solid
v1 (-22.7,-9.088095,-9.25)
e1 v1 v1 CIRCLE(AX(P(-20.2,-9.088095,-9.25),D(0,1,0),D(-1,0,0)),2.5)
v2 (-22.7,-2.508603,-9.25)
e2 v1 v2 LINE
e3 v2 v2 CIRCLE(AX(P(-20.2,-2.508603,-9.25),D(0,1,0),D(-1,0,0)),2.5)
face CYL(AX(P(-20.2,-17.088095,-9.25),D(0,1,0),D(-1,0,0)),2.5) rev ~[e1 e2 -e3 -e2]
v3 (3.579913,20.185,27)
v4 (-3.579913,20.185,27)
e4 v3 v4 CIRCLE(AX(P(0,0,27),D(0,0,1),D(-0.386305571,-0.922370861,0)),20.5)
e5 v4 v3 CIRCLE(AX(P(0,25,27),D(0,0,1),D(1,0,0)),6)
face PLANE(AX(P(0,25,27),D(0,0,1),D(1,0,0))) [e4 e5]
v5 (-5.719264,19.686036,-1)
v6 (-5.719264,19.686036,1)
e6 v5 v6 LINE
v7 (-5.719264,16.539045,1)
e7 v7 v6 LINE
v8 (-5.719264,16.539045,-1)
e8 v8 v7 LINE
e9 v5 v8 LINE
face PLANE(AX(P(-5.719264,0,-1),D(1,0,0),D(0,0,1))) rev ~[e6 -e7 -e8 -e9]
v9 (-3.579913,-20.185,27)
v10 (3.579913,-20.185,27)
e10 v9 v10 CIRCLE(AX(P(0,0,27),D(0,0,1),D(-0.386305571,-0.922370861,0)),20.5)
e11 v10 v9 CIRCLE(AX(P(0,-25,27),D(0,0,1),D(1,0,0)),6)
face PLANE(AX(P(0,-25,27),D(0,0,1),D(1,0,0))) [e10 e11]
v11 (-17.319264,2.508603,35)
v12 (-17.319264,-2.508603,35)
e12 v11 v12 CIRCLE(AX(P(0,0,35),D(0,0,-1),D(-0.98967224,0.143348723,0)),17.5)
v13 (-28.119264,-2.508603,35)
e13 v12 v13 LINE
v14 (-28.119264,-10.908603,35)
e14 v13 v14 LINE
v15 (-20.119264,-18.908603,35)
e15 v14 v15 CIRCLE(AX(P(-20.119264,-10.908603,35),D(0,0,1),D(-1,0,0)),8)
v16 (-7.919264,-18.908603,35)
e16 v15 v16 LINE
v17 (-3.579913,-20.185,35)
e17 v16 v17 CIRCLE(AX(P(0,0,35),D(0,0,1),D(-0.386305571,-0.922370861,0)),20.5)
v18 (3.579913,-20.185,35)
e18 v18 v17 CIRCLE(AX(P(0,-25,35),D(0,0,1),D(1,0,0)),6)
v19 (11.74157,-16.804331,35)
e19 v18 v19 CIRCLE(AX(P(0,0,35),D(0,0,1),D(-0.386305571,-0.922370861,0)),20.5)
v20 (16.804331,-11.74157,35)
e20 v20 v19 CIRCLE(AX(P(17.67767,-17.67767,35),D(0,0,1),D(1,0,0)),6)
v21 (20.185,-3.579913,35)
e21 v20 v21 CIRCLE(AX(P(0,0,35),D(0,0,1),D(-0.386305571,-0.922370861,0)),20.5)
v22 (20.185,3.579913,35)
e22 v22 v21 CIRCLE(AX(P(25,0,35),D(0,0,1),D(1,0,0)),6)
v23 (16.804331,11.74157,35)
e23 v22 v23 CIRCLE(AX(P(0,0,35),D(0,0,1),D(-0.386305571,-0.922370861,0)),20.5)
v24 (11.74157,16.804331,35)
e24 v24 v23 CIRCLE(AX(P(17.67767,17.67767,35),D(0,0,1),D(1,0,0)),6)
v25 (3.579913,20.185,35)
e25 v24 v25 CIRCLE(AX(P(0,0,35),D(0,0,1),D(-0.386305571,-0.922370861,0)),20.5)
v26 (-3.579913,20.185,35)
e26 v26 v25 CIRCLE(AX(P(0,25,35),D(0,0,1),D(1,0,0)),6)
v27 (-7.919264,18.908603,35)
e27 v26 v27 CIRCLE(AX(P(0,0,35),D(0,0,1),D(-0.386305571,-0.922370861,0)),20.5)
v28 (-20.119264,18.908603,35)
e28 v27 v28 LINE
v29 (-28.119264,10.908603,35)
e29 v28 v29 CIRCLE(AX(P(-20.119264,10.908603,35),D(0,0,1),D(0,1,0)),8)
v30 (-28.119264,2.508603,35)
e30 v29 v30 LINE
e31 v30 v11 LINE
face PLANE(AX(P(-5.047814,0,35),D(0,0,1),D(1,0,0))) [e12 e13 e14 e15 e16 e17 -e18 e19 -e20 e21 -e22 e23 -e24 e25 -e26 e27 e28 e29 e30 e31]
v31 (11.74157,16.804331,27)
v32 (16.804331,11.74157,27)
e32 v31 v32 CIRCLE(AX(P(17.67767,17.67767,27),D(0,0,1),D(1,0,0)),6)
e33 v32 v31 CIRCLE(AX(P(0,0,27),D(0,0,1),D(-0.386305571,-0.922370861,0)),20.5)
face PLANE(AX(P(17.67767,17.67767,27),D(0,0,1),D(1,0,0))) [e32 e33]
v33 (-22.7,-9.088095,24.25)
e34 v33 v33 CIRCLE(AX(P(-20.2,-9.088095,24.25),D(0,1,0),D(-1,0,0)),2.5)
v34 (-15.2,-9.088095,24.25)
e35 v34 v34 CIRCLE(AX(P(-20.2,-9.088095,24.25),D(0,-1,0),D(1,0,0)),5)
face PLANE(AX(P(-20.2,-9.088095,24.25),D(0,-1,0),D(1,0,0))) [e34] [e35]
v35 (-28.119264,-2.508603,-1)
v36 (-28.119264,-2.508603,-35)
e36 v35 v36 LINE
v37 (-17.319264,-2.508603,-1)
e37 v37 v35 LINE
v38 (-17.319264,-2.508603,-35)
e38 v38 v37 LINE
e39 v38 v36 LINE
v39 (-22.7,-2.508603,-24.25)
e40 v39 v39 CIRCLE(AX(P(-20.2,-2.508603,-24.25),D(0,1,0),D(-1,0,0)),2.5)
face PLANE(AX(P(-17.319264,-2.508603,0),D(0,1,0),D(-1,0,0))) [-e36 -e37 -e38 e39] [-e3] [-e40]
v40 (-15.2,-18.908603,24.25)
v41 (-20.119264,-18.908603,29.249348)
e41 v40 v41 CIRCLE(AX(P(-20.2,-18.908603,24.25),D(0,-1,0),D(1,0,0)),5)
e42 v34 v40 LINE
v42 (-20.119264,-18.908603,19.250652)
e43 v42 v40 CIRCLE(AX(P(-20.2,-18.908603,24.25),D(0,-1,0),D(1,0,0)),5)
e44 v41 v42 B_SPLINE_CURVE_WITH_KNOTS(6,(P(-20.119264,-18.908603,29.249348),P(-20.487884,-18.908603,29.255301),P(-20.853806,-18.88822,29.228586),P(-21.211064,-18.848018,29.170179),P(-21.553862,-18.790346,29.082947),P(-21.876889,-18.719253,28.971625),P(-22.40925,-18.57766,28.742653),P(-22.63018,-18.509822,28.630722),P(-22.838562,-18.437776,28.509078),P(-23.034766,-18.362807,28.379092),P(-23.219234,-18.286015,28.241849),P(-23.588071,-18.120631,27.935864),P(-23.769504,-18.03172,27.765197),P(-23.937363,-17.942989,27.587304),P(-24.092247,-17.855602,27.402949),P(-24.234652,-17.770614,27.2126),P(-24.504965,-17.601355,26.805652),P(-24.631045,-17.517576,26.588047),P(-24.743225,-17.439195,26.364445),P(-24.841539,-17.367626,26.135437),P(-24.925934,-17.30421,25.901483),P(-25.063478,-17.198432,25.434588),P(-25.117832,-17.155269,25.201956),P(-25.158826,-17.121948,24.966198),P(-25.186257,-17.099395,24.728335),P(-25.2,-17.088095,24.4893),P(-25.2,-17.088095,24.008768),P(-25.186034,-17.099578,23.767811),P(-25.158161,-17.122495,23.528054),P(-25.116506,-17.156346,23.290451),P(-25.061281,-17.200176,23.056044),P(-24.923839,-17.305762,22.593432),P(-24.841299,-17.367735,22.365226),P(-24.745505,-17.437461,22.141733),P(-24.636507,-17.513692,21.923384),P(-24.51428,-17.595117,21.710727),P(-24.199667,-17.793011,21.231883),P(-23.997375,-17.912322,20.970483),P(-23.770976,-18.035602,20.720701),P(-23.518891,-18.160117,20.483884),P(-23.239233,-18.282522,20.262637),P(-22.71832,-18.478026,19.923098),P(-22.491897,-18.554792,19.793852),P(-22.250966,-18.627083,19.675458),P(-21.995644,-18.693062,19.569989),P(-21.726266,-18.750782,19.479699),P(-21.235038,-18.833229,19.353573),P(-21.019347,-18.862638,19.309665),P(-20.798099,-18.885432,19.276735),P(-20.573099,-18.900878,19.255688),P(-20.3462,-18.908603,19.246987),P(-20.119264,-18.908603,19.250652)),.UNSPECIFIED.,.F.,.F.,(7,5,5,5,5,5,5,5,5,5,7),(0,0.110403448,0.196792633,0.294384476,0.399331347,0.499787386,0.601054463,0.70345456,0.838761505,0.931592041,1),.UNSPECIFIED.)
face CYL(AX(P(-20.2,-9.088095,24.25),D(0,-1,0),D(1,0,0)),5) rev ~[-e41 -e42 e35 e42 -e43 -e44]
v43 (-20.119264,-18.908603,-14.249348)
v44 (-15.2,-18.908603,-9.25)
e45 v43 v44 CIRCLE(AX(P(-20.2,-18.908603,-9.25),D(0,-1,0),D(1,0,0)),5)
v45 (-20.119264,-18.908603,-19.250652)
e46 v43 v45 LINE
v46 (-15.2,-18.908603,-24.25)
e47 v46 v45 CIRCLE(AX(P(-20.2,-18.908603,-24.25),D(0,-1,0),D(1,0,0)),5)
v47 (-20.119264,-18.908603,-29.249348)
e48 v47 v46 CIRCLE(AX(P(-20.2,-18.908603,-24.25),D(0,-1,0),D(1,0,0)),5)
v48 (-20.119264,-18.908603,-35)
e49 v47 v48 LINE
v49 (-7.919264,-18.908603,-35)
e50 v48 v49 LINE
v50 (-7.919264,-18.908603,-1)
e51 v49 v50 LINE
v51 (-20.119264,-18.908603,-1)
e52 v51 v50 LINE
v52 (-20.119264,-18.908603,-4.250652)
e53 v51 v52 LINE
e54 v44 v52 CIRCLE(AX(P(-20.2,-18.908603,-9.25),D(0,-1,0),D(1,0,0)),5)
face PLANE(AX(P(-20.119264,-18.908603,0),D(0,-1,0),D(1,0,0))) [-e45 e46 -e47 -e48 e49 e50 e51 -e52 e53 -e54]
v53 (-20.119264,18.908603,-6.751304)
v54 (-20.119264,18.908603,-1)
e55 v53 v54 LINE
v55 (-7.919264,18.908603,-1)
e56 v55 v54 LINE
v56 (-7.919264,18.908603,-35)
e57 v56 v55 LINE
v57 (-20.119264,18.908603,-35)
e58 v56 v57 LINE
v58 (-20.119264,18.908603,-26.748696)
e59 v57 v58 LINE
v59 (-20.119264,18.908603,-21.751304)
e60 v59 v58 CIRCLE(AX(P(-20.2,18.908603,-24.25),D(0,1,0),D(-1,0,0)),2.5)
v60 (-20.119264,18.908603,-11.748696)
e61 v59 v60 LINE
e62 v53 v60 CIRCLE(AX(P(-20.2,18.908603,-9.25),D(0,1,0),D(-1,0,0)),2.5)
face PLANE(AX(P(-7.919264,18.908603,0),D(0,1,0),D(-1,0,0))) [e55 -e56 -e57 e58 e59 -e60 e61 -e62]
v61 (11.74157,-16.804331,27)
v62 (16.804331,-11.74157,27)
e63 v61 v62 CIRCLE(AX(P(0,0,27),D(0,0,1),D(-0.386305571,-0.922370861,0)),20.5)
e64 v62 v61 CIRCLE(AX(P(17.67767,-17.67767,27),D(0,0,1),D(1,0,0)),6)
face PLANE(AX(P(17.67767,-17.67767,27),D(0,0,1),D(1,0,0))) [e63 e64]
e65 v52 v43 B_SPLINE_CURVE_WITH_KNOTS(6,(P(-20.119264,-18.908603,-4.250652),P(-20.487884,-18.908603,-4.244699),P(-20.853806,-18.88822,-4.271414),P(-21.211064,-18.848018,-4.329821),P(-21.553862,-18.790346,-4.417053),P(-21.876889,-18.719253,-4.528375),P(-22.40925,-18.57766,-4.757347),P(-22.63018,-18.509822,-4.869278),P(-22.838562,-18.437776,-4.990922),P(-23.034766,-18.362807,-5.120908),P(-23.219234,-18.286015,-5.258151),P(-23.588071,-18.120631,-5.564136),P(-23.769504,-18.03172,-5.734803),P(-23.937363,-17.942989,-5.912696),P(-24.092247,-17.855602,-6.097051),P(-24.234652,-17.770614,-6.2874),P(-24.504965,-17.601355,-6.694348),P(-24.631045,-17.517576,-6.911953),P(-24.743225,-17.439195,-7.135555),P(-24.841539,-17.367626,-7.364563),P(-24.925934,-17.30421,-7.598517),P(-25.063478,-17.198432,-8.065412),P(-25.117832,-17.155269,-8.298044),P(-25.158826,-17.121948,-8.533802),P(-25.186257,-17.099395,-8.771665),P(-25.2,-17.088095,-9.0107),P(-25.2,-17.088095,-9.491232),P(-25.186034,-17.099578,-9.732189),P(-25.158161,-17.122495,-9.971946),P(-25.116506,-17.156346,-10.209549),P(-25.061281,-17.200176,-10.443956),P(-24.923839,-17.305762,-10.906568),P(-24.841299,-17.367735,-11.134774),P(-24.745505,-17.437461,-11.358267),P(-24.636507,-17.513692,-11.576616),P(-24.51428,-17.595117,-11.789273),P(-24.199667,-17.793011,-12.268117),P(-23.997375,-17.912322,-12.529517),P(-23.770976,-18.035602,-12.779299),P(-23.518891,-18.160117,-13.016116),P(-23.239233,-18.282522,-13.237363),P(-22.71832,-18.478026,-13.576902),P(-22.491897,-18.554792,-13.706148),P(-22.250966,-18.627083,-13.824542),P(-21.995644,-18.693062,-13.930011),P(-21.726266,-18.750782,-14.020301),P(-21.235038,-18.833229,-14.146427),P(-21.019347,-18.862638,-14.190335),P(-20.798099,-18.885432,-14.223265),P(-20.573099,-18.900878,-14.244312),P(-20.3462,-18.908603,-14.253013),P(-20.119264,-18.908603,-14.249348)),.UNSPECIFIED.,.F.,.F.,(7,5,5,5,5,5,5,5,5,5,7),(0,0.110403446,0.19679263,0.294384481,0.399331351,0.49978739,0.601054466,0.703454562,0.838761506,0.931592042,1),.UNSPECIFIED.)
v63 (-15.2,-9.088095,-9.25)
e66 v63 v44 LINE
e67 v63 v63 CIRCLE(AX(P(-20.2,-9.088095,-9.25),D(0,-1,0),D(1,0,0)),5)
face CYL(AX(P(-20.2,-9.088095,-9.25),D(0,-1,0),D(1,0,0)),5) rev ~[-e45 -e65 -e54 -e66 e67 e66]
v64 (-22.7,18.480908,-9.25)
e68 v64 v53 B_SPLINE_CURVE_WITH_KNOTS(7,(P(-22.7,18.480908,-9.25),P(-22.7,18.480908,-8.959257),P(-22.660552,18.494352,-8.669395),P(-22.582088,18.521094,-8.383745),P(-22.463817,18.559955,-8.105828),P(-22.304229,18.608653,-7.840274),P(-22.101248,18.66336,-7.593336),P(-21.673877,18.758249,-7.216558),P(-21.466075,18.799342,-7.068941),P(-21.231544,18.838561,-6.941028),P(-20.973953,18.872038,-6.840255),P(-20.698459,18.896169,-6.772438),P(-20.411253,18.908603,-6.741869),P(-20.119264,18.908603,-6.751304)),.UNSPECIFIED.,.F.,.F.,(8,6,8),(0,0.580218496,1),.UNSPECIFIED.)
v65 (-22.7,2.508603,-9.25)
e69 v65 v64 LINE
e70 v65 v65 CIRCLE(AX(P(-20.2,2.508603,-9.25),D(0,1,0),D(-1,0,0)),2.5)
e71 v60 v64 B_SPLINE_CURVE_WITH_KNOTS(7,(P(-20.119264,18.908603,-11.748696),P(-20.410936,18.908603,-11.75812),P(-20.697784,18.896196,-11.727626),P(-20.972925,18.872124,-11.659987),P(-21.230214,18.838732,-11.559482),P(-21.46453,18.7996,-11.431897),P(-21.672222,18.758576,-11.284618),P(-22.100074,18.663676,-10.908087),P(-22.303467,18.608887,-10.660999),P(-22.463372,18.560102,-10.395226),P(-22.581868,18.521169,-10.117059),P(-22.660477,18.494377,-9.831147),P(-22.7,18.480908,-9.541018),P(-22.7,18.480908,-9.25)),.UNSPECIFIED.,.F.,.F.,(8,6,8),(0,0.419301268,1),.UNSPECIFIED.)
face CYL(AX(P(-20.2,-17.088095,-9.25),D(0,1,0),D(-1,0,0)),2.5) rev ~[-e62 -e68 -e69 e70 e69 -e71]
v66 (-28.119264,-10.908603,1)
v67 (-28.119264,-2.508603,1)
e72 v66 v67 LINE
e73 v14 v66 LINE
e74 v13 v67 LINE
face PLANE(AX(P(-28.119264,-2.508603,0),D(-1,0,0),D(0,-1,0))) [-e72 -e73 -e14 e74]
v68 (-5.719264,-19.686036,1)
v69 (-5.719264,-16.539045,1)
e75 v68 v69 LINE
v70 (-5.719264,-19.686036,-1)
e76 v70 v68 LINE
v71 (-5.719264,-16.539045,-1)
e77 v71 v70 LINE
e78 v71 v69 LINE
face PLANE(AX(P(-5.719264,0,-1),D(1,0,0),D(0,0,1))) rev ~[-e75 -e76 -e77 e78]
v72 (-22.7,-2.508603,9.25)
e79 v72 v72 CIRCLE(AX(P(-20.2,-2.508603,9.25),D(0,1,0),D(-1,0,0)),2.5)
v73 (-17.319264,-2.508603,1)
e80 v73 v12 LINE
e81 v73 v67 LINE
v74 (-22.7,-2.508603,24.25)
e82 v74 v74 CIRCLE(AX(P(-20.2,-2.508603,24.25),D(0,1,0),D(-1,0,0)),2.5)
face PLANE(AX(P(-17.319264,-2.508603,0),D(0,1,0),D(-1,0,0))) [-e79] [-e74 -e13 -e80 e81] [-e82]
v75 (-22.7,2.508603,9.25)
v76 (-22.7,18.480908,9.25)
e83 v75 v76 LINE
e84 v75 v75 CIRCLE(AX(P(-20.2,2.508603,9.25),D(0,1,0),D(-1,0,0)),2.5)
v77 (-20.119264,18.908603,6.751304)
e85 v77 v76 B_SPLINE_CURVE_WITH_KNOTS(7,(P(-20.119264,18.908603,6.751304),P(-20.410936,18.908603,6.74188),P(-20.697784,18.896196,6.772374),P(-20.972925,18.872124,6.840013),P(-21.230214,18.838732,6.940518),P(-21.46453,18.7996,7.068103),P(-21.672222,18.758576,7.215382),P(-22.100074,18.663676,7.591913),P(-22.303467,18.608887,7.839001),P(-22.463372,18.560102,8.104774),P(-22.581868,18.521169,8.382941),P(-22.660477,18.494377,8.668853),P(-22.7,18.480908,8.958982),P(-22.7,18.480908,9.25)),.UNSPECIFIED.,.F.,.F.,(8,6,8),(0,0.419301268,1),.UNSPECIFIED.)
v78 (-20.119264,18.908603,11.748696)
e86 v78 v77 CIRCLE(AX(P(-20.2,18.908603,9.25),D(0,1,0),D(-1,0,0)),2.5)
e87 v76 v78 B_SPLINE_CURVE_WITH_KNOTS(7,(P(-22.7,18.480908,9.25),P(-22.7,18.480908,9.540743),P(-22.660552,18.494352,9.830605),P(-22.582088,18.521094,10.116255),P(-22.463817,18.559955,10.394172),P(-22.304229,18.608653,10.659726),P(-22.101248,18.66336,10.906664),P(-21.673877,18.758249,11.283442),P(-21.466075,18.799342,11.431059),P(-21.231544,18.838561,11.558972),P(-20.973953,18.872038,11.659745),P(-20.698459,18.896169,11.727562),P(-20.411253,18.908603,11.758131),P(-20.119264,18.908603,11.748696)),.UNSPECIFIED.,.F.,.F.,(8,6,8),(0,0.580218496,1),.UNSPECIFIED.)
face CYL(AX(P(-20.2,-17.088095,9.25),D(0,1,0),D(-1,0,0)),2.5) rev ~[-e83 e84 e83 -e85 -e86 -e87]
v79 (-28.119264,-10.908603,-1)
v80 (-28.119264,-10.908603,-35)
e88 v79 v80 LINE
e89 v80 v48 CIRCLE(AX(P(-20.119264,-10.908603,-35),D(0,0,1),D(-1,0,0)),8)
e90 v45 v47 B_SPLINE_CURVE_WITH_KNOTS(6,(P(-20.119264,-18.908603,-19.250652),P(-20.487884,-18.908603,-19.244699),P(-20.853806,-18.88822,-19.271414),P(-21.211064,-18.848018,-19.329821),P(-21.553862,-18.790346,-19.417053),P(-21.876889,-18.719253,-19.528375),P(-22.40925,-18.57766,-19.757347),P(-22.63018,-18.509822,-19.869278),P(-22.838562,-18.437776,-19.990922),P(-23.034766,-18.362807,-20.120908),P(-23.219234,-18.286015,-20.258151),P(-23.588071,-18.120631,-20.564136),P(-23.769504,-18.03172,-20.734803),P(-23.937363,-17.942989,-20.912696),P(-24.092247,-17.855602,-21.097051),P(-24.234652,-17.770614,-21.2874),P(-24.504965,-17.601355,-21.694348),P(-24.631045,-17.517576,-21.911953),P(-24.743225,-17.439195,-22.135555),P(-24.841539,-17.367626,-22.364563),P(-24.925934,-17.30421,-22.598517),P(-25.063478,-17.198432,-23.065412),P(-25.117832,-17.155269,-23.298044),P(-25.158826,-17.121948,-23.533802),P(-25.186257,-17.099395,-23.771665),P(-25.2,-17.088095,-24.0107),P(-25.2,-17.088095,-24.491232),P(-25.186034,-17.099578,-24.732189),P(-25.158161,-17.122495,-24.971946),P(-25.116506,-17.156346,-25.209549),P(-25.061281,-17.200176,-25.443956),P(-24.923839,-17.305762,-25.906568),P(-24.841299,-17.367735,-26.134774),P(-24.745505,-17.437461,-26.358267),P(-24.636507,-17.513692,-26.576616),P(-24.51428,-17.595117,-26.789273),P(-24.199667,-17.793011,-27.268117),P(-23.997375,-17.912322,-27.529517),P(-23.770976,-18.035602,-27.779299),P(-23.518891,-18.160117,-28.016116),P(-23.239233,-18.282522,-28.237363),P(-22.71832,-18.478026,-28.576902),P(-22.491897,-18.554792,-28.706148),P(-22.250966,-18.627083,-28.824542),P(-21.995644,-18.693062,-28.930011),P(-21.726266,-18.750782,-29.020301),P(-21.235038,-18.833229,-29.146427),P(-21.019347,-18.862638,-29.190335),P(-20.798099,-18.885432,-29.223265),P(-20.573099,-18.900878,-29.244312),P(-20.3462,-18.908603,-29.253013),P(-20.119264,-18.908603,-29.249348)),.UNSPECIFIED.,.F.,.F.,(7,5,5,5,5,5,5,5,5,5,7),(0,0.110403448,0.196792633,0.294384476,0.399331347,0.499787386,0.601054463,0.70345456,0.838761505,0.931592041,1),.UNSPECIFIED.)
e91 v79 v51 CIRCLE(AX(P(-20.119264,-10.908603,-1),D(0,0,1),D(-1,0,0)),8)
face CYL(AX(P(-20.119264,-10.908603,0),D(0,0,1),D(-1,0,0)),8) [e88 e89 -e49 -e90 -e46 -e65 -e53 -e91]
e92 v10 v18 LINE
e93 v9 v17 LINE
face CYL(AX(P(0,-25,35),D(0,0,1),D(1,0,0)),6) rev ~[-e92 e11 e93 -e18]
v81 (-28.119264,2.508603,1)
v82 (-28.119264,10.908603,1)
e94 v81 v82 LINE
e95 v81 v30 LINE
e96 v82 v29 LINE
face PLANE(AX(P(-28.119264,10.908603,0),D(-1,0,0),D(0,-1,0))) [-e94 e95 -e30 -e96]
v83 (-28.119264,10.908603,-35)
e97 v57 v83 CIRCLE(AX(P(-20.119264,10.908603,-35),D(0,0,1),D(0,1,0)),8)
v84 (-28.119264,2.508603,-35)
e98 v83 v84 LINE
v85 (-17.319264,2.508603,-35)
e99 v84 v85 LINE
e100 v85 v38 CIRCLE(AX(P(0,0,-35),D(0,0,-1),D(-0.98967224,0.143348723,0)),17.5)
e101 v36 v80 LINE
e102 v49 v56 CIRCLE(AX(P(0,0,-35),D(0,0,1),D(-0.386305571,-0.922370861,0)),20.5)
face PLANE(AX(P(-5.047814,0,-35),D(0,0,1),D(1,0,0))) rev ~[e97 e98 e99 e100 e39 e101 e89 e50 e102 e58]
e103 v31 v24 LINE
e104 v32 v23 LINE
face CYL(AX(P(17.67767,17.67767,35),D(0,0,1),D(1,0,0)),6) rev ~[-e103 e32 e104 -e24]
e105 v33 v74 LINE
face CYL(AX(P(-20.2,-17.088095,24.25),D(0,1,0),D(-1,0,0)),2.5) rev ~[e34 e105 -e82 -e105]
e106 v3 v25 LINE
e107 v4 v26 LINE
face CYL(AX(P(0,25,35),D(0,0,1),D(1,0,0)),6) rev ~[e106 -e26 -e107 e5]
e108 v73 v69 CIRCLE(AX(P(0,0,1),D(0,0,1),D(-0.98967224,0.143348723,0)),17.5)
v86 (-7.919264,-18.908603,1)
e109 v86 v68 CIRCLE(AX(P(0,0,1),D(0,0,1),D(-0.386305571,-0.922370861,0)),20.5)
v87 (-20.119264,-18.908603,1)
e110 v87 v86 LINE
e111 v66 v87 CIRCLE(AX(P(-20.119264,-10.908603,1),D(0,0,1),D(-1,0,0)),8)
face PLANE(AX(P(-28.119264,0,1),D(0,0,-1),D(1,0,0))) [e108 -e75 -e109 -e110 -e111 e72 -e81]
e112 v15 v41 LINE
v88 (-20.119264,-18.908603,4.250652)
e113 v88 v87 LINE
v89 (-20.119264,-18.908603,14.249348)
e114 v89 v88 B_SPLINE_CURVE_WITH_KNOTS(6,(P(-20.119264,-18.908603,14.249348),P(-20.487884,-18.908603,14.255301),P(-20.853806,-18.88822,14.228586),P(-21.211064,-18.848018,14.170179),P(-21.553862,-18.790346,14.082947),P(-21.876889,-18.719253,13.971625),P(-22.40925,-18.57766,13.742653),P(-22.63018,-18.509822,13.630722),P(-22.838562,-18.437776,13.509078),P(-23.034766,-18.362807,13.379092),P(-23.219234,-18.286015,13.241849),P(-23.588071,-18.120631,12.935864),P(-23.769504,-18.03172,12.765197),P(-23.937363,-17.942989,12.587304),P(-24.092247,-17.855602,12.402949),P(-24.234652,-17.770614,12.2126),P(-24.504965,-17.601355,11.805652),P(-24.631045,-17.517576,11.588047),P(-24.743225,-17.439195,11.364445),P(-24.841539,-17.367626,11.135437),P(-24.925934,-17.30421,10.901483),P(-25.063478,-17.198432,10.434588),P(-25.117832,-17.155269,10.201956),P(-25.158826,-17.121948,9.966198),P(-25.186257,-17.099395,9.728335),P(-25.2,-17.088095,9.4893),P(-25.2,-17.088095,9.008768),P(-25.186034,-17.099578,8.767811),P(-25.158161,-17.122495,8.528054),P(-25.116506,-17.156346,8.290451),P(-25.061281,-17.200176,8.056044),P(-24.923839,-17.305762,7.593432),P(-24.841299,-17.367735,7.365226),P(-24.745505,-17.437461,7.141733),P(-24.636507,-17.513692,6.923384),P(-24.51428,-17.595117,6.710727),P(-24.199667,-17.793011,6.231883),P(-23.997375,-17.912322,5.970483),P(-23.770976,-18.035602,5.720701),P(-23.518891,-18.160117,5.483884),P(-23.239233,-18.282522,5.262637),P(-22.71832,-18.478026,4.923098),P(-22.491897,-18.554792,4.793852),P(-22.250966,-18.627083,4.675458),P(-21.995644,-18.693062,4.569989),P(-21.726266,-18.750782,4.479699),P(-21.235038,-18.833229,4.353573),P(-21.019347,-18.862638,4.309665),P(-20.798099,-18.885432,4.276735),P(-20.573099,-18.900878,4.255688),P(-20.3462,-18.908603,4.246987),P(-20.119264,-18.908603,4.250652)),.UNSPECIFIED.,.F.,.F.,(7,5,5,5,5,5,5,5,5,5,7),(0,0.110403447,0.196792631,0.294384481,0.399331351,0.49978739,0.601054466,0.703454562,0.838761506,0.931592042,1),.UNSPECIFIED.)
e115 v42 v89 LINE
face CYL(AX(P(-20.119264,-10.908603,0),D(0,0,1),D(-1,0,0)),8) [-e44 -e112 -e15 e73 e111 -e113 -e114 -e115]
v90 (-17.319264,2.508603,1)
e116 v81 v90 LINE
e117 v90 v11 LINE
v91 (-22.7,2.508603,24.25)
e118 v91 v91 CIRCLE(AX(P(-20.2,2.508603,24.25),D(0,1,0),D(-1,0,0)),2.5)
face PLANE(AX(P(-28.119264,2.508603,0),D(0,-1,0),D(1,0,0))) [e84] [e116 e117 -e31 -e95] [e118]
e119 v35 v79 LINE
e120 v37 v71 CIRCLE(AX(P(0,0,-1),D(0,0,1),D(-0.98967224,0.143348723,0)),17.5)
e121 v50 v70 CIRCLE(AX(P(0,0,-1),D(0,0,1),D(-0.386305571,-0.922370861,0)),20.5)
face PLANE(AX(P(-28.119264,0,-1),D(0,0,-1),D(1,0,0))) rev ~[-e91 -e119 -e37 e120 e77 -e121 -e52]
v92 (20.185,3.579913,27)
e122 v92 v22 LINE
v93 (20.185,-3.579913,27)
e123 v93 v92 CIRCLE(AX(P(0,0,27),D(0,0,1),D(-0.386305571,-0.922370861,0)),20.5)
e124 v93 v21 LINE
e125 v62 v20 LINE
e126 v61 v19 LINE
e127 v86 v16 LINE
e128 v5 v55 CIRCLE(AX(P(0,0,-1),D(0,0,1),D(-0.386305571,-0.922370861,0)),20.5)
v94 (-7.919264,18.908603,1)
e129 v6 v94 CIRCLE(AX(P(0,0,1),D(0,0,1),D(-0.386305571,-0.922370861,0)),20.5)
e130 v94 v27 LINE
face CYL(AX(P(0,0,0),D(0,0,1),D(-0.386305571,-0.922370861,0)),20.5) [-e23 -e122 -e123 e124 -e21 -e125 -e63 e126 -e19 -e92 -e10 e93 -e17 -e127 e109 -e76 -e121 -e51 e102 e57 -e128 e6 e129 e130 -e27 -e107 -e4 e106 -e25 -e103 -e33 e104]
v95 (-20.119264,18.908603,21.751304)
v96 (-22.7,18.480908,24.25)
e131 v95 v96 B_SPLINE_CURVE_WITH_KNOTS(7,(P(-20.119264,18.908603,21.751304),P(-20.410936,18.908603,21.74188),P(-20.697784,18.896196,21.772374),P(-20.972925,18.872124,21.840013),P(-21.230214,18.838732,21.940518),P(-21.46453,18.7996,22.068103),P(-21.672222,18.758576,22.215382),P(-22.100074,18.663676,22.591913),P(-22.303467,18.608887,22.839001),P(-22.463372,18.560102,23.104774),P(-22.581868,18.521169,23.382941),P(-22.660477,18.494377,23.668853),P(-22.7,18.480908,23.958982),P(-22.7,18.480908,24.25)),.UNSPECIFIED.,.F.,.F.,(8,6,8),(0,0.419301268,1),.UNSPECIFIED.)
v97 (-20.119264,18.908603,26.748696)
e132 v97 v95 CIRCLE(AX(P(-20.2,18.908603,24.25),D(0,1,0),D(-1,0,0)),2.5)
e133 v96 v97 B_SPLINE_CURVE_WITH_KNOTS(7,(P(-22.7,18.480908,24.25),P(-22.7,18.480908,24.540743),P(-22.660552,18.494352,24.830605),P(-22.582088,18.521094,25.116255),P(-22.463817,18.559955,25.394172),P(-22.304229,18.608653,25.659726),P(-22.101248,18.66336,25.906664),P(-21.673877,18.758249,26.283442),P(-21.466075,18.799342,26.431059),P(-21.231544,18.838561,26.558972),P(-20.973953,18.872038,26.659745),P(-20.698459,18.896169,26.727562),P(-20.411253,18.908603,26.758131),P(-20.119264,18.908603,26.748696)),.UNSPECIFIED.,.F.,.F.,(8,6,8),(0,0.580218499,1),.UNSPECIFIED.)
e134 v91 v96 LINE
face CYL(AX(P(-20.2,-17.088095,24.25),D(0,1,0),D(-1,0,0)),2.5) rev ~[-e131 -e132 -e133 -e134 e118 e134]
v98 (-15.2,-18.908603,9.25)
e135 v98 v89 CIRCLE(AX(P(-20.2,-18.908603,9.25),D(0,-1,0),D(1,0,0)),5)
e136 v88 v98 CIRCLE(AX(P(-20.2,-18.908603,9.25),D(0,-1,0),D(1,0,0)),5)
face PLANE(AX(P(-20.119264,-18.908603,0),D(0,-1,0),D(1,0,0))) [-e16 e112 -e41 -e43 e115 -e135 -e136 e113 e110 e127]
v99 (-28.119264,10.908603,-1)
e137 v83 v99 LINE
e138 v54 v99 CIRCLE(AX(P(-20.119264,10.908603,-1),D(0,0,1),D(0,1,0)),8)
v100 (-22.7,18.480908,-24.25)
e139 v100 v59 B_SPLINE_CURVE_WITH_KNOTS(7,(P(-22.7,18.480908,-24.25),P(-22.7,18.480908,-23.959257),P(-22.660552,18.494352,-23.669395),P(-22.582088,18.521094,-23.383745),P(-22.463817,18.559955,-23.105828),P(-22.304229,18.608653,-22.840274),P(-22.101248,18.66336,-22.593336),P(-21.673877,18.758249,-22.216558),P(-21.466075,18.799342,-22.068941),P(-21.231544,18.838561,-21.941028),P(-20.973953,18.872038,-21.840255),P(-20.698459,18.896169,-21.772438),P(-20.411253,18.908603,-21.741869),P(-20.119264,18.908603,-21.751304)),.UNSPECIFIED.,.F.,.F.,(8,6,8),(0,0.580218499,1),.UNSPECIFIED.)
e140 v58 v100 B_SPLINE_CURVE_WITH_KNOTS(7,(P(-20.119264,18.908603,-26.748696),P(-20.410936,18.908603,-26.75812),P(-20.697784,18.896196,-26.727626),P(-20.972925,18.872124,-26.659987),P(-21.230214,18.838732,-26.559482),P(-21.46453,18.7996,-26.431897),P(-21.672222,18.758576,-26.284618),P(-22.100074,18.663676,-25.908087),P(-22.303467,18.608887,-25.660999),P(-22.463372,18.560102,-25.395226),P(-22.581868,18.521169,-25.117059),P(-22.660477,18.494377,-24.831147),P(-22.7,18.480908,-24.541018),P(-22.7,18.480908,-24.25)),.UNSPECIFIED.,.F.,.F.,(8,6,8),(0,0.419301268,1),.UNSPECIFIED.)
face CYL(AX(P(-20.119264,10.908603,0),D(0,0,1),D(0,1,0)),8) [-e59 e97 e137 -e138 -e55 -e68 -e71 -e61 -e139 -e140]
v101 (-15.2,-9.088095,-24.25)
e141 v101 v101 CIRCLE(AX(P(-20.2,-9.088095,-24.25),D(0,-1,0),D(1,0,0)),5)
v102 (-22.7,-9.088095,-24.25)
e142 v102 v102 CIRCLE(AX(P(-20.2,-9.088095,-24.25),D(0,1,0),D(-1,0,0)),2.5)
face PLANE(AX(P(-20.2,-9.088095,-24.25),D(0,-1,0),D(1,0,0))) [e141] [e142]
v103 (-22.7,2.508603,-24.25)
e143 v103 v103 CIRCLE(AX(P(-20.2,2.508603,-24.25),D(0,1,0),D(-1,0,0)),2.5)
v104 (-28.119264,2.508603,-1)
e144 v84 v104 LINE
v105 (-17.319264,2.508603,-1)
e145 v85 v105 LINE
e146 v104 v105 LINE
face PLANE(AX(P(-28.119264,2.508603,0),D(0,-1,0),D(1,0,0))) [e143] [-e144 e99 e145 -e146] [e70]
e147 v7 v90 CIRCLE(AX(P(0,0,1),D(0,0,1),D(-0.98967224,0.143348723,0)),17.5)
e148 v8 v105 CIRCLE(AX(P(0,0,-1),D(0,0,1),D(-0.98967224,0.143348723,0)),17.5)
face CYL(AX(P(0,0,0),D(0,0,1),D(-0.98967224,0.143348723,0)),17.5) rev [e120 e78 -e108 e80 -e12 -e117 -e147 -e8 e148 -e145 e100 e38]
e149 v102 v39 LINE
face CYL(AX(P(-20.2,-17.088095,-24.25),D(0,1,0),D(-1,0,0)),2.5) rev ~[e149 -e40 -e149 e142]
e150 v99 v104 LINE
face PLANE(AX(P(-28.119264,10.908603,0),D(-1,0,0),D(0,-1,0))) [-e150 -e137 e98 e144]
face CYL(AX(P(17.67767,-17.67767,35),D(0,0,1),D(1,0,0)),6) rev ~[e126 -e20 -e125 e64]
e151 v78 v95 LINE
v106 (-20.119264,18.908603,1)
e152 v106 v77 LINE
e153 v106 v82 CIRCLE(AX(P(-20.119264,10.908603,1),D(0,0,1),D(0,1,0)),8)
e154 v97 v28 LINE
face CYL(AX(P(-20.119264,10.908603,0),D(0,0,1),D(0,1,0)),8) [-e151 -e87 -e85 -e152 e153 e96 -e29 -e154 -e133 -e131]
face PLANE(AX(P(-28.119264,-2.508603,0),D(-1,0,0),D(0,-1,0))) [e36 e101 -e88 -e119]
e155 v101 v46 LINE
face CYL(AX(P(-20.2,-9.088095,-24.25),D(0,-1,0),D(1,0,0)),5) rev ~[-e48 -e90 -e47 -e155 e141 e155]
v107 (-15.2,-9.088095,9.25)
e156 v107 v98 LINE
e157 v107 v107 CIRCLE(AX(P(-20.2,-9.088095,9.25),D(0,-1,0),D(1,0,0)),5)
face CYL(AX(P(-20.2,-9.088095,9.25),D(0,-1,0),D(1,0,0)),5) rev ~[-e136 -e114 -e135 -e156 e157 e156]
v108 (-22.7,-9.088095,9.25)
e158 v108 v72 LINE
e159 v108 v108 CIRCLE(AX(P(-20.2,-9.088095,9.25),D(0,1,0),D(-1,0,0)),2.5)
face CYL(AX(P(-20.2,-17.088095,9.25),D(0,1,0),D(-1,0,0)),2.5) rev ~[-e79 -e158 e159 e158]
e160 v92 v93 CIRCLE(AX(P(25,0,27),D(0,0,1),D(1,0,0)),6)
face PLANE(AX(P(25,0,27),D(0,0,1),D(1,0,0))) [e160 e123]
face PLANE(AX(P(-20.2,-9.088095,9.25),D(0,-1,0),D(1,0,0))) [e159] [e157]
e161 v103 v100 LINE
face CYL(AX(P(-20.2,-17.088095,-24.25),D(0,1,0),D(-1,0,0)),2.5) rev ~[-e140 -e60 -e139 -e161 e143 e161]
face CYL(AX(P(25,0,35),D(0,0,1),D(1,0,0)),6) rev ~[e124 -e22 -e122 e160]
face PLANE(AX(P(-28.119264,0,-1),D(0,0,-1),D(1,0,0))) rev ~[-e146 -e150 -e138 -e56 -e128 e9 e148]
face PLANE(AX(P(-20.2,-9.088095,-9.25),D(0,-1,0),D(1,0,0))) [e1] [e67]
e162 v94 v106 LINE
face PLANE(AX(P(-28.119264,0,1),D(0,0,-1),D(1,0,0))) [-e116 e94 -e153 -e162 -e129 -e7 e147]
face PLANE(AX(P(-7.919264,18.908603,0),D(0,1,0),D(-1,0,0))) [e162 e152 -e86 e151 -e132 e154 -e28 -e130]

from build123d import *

# Parameters (mm, degrees)
F1_DEPTH       = 35
F3_D           = 5
F3_START       = 1.8205079
F3_CBORE_D     = 10
F3_CBORE_DEPTH = 8
F4_W           = 22.4
F4_H           = 2
F5_DEPTH       = 25
F6_R           = 6
F7_DEPTH       = 8


with BuildPart() as f1:
    # F0 (on Top) → F1 (new body, symmetric)
    with BuildSketch(Plane.XY):
        with BuildLine():
            Line((-20.1192642082, -18.9086026559), (-7.9192642082, -18.9086026559))
            ThreePointArc((-7.9192642082, -18.9086026559), (20.5, 0), (-7.9192642082, 18.9086026559))
            Line((-7.9192642082, 18.9086026559), (-20.1192642082, 18.9086026559))
            ThreePointArc((-20.1192642082, 18.9086026559), (-25.7761184577, 16.5654569054), (-28.1192642082, 10.9086026559))
            Line((-28.1192642082, 10.9086026559), (-28.1192642082, 2.5086026559))
            Line((-28.1192642082, 2.5086026559), (-17.3192642082, 2.5086026559))
            ThreePointArc((-17.3192642082, 2.5086026559), (17.5, 0), (-17.3192642082, -2.5086026559))
            Line((-17.3192642082, -2.5086026559), (-28.1192642082, -2.5086026559))
            Line((-28.1192642082, -2.5086026559), (-28.1192642082, -10.9086026559))
            ThreePointArc((-28.1192642082, -10.9086026559), (-25.7761184577, -16.5654569054), (-20.1192642082, -18.9086026559))
        make_face()
    extrude(amount=F1_DEPTH, both=True)

    # F3 (through all)
    # its depths count from where the whole tool has entered the part; down to there all is cleared
    with Locations(Plane.XZ.offset(18.9086026559).offset(-F3_START)):
        with Locations((-20.2, -24.25), (-20.2, -9.25), (-20.2, 9.25), (-20.2, 24.25)):
            CounterBoreHole(F3_D / 2, F3_CBORE_D / 2, F3_CBORE_DEPTH)

    # F4 (on Front) → F5 (cut, symmetric)
    with BuildSketch(Plane.XZ):
        with Locations((-16.9192642082, 0)):
            Rectangle(F4_W, F4_H)
    extrude(amount=F5_DEPTH, both=True, mode=Mode.SUBTRACT)

    # F6 (on face) → F7 (cut)
    with BuildSketch(Plane.XY.offset(35)):
        with Locations((0, -25)):
            Circle(F6_R)
        with Locations((17.6776695297, -17.6776695297)):
            Circle(F6_R)
        with Locations((25, 0)):
            Circle(F6_R)
        with Locations((17.6776695297, 17.6776695297)):
            Circle(F6_R)
        with Locations((0, 25)):
            Circle(F6_R)
    extrude(amount=-F7_DEPTH, mode=Mode.SUBTRACT)


solid = f1.part
